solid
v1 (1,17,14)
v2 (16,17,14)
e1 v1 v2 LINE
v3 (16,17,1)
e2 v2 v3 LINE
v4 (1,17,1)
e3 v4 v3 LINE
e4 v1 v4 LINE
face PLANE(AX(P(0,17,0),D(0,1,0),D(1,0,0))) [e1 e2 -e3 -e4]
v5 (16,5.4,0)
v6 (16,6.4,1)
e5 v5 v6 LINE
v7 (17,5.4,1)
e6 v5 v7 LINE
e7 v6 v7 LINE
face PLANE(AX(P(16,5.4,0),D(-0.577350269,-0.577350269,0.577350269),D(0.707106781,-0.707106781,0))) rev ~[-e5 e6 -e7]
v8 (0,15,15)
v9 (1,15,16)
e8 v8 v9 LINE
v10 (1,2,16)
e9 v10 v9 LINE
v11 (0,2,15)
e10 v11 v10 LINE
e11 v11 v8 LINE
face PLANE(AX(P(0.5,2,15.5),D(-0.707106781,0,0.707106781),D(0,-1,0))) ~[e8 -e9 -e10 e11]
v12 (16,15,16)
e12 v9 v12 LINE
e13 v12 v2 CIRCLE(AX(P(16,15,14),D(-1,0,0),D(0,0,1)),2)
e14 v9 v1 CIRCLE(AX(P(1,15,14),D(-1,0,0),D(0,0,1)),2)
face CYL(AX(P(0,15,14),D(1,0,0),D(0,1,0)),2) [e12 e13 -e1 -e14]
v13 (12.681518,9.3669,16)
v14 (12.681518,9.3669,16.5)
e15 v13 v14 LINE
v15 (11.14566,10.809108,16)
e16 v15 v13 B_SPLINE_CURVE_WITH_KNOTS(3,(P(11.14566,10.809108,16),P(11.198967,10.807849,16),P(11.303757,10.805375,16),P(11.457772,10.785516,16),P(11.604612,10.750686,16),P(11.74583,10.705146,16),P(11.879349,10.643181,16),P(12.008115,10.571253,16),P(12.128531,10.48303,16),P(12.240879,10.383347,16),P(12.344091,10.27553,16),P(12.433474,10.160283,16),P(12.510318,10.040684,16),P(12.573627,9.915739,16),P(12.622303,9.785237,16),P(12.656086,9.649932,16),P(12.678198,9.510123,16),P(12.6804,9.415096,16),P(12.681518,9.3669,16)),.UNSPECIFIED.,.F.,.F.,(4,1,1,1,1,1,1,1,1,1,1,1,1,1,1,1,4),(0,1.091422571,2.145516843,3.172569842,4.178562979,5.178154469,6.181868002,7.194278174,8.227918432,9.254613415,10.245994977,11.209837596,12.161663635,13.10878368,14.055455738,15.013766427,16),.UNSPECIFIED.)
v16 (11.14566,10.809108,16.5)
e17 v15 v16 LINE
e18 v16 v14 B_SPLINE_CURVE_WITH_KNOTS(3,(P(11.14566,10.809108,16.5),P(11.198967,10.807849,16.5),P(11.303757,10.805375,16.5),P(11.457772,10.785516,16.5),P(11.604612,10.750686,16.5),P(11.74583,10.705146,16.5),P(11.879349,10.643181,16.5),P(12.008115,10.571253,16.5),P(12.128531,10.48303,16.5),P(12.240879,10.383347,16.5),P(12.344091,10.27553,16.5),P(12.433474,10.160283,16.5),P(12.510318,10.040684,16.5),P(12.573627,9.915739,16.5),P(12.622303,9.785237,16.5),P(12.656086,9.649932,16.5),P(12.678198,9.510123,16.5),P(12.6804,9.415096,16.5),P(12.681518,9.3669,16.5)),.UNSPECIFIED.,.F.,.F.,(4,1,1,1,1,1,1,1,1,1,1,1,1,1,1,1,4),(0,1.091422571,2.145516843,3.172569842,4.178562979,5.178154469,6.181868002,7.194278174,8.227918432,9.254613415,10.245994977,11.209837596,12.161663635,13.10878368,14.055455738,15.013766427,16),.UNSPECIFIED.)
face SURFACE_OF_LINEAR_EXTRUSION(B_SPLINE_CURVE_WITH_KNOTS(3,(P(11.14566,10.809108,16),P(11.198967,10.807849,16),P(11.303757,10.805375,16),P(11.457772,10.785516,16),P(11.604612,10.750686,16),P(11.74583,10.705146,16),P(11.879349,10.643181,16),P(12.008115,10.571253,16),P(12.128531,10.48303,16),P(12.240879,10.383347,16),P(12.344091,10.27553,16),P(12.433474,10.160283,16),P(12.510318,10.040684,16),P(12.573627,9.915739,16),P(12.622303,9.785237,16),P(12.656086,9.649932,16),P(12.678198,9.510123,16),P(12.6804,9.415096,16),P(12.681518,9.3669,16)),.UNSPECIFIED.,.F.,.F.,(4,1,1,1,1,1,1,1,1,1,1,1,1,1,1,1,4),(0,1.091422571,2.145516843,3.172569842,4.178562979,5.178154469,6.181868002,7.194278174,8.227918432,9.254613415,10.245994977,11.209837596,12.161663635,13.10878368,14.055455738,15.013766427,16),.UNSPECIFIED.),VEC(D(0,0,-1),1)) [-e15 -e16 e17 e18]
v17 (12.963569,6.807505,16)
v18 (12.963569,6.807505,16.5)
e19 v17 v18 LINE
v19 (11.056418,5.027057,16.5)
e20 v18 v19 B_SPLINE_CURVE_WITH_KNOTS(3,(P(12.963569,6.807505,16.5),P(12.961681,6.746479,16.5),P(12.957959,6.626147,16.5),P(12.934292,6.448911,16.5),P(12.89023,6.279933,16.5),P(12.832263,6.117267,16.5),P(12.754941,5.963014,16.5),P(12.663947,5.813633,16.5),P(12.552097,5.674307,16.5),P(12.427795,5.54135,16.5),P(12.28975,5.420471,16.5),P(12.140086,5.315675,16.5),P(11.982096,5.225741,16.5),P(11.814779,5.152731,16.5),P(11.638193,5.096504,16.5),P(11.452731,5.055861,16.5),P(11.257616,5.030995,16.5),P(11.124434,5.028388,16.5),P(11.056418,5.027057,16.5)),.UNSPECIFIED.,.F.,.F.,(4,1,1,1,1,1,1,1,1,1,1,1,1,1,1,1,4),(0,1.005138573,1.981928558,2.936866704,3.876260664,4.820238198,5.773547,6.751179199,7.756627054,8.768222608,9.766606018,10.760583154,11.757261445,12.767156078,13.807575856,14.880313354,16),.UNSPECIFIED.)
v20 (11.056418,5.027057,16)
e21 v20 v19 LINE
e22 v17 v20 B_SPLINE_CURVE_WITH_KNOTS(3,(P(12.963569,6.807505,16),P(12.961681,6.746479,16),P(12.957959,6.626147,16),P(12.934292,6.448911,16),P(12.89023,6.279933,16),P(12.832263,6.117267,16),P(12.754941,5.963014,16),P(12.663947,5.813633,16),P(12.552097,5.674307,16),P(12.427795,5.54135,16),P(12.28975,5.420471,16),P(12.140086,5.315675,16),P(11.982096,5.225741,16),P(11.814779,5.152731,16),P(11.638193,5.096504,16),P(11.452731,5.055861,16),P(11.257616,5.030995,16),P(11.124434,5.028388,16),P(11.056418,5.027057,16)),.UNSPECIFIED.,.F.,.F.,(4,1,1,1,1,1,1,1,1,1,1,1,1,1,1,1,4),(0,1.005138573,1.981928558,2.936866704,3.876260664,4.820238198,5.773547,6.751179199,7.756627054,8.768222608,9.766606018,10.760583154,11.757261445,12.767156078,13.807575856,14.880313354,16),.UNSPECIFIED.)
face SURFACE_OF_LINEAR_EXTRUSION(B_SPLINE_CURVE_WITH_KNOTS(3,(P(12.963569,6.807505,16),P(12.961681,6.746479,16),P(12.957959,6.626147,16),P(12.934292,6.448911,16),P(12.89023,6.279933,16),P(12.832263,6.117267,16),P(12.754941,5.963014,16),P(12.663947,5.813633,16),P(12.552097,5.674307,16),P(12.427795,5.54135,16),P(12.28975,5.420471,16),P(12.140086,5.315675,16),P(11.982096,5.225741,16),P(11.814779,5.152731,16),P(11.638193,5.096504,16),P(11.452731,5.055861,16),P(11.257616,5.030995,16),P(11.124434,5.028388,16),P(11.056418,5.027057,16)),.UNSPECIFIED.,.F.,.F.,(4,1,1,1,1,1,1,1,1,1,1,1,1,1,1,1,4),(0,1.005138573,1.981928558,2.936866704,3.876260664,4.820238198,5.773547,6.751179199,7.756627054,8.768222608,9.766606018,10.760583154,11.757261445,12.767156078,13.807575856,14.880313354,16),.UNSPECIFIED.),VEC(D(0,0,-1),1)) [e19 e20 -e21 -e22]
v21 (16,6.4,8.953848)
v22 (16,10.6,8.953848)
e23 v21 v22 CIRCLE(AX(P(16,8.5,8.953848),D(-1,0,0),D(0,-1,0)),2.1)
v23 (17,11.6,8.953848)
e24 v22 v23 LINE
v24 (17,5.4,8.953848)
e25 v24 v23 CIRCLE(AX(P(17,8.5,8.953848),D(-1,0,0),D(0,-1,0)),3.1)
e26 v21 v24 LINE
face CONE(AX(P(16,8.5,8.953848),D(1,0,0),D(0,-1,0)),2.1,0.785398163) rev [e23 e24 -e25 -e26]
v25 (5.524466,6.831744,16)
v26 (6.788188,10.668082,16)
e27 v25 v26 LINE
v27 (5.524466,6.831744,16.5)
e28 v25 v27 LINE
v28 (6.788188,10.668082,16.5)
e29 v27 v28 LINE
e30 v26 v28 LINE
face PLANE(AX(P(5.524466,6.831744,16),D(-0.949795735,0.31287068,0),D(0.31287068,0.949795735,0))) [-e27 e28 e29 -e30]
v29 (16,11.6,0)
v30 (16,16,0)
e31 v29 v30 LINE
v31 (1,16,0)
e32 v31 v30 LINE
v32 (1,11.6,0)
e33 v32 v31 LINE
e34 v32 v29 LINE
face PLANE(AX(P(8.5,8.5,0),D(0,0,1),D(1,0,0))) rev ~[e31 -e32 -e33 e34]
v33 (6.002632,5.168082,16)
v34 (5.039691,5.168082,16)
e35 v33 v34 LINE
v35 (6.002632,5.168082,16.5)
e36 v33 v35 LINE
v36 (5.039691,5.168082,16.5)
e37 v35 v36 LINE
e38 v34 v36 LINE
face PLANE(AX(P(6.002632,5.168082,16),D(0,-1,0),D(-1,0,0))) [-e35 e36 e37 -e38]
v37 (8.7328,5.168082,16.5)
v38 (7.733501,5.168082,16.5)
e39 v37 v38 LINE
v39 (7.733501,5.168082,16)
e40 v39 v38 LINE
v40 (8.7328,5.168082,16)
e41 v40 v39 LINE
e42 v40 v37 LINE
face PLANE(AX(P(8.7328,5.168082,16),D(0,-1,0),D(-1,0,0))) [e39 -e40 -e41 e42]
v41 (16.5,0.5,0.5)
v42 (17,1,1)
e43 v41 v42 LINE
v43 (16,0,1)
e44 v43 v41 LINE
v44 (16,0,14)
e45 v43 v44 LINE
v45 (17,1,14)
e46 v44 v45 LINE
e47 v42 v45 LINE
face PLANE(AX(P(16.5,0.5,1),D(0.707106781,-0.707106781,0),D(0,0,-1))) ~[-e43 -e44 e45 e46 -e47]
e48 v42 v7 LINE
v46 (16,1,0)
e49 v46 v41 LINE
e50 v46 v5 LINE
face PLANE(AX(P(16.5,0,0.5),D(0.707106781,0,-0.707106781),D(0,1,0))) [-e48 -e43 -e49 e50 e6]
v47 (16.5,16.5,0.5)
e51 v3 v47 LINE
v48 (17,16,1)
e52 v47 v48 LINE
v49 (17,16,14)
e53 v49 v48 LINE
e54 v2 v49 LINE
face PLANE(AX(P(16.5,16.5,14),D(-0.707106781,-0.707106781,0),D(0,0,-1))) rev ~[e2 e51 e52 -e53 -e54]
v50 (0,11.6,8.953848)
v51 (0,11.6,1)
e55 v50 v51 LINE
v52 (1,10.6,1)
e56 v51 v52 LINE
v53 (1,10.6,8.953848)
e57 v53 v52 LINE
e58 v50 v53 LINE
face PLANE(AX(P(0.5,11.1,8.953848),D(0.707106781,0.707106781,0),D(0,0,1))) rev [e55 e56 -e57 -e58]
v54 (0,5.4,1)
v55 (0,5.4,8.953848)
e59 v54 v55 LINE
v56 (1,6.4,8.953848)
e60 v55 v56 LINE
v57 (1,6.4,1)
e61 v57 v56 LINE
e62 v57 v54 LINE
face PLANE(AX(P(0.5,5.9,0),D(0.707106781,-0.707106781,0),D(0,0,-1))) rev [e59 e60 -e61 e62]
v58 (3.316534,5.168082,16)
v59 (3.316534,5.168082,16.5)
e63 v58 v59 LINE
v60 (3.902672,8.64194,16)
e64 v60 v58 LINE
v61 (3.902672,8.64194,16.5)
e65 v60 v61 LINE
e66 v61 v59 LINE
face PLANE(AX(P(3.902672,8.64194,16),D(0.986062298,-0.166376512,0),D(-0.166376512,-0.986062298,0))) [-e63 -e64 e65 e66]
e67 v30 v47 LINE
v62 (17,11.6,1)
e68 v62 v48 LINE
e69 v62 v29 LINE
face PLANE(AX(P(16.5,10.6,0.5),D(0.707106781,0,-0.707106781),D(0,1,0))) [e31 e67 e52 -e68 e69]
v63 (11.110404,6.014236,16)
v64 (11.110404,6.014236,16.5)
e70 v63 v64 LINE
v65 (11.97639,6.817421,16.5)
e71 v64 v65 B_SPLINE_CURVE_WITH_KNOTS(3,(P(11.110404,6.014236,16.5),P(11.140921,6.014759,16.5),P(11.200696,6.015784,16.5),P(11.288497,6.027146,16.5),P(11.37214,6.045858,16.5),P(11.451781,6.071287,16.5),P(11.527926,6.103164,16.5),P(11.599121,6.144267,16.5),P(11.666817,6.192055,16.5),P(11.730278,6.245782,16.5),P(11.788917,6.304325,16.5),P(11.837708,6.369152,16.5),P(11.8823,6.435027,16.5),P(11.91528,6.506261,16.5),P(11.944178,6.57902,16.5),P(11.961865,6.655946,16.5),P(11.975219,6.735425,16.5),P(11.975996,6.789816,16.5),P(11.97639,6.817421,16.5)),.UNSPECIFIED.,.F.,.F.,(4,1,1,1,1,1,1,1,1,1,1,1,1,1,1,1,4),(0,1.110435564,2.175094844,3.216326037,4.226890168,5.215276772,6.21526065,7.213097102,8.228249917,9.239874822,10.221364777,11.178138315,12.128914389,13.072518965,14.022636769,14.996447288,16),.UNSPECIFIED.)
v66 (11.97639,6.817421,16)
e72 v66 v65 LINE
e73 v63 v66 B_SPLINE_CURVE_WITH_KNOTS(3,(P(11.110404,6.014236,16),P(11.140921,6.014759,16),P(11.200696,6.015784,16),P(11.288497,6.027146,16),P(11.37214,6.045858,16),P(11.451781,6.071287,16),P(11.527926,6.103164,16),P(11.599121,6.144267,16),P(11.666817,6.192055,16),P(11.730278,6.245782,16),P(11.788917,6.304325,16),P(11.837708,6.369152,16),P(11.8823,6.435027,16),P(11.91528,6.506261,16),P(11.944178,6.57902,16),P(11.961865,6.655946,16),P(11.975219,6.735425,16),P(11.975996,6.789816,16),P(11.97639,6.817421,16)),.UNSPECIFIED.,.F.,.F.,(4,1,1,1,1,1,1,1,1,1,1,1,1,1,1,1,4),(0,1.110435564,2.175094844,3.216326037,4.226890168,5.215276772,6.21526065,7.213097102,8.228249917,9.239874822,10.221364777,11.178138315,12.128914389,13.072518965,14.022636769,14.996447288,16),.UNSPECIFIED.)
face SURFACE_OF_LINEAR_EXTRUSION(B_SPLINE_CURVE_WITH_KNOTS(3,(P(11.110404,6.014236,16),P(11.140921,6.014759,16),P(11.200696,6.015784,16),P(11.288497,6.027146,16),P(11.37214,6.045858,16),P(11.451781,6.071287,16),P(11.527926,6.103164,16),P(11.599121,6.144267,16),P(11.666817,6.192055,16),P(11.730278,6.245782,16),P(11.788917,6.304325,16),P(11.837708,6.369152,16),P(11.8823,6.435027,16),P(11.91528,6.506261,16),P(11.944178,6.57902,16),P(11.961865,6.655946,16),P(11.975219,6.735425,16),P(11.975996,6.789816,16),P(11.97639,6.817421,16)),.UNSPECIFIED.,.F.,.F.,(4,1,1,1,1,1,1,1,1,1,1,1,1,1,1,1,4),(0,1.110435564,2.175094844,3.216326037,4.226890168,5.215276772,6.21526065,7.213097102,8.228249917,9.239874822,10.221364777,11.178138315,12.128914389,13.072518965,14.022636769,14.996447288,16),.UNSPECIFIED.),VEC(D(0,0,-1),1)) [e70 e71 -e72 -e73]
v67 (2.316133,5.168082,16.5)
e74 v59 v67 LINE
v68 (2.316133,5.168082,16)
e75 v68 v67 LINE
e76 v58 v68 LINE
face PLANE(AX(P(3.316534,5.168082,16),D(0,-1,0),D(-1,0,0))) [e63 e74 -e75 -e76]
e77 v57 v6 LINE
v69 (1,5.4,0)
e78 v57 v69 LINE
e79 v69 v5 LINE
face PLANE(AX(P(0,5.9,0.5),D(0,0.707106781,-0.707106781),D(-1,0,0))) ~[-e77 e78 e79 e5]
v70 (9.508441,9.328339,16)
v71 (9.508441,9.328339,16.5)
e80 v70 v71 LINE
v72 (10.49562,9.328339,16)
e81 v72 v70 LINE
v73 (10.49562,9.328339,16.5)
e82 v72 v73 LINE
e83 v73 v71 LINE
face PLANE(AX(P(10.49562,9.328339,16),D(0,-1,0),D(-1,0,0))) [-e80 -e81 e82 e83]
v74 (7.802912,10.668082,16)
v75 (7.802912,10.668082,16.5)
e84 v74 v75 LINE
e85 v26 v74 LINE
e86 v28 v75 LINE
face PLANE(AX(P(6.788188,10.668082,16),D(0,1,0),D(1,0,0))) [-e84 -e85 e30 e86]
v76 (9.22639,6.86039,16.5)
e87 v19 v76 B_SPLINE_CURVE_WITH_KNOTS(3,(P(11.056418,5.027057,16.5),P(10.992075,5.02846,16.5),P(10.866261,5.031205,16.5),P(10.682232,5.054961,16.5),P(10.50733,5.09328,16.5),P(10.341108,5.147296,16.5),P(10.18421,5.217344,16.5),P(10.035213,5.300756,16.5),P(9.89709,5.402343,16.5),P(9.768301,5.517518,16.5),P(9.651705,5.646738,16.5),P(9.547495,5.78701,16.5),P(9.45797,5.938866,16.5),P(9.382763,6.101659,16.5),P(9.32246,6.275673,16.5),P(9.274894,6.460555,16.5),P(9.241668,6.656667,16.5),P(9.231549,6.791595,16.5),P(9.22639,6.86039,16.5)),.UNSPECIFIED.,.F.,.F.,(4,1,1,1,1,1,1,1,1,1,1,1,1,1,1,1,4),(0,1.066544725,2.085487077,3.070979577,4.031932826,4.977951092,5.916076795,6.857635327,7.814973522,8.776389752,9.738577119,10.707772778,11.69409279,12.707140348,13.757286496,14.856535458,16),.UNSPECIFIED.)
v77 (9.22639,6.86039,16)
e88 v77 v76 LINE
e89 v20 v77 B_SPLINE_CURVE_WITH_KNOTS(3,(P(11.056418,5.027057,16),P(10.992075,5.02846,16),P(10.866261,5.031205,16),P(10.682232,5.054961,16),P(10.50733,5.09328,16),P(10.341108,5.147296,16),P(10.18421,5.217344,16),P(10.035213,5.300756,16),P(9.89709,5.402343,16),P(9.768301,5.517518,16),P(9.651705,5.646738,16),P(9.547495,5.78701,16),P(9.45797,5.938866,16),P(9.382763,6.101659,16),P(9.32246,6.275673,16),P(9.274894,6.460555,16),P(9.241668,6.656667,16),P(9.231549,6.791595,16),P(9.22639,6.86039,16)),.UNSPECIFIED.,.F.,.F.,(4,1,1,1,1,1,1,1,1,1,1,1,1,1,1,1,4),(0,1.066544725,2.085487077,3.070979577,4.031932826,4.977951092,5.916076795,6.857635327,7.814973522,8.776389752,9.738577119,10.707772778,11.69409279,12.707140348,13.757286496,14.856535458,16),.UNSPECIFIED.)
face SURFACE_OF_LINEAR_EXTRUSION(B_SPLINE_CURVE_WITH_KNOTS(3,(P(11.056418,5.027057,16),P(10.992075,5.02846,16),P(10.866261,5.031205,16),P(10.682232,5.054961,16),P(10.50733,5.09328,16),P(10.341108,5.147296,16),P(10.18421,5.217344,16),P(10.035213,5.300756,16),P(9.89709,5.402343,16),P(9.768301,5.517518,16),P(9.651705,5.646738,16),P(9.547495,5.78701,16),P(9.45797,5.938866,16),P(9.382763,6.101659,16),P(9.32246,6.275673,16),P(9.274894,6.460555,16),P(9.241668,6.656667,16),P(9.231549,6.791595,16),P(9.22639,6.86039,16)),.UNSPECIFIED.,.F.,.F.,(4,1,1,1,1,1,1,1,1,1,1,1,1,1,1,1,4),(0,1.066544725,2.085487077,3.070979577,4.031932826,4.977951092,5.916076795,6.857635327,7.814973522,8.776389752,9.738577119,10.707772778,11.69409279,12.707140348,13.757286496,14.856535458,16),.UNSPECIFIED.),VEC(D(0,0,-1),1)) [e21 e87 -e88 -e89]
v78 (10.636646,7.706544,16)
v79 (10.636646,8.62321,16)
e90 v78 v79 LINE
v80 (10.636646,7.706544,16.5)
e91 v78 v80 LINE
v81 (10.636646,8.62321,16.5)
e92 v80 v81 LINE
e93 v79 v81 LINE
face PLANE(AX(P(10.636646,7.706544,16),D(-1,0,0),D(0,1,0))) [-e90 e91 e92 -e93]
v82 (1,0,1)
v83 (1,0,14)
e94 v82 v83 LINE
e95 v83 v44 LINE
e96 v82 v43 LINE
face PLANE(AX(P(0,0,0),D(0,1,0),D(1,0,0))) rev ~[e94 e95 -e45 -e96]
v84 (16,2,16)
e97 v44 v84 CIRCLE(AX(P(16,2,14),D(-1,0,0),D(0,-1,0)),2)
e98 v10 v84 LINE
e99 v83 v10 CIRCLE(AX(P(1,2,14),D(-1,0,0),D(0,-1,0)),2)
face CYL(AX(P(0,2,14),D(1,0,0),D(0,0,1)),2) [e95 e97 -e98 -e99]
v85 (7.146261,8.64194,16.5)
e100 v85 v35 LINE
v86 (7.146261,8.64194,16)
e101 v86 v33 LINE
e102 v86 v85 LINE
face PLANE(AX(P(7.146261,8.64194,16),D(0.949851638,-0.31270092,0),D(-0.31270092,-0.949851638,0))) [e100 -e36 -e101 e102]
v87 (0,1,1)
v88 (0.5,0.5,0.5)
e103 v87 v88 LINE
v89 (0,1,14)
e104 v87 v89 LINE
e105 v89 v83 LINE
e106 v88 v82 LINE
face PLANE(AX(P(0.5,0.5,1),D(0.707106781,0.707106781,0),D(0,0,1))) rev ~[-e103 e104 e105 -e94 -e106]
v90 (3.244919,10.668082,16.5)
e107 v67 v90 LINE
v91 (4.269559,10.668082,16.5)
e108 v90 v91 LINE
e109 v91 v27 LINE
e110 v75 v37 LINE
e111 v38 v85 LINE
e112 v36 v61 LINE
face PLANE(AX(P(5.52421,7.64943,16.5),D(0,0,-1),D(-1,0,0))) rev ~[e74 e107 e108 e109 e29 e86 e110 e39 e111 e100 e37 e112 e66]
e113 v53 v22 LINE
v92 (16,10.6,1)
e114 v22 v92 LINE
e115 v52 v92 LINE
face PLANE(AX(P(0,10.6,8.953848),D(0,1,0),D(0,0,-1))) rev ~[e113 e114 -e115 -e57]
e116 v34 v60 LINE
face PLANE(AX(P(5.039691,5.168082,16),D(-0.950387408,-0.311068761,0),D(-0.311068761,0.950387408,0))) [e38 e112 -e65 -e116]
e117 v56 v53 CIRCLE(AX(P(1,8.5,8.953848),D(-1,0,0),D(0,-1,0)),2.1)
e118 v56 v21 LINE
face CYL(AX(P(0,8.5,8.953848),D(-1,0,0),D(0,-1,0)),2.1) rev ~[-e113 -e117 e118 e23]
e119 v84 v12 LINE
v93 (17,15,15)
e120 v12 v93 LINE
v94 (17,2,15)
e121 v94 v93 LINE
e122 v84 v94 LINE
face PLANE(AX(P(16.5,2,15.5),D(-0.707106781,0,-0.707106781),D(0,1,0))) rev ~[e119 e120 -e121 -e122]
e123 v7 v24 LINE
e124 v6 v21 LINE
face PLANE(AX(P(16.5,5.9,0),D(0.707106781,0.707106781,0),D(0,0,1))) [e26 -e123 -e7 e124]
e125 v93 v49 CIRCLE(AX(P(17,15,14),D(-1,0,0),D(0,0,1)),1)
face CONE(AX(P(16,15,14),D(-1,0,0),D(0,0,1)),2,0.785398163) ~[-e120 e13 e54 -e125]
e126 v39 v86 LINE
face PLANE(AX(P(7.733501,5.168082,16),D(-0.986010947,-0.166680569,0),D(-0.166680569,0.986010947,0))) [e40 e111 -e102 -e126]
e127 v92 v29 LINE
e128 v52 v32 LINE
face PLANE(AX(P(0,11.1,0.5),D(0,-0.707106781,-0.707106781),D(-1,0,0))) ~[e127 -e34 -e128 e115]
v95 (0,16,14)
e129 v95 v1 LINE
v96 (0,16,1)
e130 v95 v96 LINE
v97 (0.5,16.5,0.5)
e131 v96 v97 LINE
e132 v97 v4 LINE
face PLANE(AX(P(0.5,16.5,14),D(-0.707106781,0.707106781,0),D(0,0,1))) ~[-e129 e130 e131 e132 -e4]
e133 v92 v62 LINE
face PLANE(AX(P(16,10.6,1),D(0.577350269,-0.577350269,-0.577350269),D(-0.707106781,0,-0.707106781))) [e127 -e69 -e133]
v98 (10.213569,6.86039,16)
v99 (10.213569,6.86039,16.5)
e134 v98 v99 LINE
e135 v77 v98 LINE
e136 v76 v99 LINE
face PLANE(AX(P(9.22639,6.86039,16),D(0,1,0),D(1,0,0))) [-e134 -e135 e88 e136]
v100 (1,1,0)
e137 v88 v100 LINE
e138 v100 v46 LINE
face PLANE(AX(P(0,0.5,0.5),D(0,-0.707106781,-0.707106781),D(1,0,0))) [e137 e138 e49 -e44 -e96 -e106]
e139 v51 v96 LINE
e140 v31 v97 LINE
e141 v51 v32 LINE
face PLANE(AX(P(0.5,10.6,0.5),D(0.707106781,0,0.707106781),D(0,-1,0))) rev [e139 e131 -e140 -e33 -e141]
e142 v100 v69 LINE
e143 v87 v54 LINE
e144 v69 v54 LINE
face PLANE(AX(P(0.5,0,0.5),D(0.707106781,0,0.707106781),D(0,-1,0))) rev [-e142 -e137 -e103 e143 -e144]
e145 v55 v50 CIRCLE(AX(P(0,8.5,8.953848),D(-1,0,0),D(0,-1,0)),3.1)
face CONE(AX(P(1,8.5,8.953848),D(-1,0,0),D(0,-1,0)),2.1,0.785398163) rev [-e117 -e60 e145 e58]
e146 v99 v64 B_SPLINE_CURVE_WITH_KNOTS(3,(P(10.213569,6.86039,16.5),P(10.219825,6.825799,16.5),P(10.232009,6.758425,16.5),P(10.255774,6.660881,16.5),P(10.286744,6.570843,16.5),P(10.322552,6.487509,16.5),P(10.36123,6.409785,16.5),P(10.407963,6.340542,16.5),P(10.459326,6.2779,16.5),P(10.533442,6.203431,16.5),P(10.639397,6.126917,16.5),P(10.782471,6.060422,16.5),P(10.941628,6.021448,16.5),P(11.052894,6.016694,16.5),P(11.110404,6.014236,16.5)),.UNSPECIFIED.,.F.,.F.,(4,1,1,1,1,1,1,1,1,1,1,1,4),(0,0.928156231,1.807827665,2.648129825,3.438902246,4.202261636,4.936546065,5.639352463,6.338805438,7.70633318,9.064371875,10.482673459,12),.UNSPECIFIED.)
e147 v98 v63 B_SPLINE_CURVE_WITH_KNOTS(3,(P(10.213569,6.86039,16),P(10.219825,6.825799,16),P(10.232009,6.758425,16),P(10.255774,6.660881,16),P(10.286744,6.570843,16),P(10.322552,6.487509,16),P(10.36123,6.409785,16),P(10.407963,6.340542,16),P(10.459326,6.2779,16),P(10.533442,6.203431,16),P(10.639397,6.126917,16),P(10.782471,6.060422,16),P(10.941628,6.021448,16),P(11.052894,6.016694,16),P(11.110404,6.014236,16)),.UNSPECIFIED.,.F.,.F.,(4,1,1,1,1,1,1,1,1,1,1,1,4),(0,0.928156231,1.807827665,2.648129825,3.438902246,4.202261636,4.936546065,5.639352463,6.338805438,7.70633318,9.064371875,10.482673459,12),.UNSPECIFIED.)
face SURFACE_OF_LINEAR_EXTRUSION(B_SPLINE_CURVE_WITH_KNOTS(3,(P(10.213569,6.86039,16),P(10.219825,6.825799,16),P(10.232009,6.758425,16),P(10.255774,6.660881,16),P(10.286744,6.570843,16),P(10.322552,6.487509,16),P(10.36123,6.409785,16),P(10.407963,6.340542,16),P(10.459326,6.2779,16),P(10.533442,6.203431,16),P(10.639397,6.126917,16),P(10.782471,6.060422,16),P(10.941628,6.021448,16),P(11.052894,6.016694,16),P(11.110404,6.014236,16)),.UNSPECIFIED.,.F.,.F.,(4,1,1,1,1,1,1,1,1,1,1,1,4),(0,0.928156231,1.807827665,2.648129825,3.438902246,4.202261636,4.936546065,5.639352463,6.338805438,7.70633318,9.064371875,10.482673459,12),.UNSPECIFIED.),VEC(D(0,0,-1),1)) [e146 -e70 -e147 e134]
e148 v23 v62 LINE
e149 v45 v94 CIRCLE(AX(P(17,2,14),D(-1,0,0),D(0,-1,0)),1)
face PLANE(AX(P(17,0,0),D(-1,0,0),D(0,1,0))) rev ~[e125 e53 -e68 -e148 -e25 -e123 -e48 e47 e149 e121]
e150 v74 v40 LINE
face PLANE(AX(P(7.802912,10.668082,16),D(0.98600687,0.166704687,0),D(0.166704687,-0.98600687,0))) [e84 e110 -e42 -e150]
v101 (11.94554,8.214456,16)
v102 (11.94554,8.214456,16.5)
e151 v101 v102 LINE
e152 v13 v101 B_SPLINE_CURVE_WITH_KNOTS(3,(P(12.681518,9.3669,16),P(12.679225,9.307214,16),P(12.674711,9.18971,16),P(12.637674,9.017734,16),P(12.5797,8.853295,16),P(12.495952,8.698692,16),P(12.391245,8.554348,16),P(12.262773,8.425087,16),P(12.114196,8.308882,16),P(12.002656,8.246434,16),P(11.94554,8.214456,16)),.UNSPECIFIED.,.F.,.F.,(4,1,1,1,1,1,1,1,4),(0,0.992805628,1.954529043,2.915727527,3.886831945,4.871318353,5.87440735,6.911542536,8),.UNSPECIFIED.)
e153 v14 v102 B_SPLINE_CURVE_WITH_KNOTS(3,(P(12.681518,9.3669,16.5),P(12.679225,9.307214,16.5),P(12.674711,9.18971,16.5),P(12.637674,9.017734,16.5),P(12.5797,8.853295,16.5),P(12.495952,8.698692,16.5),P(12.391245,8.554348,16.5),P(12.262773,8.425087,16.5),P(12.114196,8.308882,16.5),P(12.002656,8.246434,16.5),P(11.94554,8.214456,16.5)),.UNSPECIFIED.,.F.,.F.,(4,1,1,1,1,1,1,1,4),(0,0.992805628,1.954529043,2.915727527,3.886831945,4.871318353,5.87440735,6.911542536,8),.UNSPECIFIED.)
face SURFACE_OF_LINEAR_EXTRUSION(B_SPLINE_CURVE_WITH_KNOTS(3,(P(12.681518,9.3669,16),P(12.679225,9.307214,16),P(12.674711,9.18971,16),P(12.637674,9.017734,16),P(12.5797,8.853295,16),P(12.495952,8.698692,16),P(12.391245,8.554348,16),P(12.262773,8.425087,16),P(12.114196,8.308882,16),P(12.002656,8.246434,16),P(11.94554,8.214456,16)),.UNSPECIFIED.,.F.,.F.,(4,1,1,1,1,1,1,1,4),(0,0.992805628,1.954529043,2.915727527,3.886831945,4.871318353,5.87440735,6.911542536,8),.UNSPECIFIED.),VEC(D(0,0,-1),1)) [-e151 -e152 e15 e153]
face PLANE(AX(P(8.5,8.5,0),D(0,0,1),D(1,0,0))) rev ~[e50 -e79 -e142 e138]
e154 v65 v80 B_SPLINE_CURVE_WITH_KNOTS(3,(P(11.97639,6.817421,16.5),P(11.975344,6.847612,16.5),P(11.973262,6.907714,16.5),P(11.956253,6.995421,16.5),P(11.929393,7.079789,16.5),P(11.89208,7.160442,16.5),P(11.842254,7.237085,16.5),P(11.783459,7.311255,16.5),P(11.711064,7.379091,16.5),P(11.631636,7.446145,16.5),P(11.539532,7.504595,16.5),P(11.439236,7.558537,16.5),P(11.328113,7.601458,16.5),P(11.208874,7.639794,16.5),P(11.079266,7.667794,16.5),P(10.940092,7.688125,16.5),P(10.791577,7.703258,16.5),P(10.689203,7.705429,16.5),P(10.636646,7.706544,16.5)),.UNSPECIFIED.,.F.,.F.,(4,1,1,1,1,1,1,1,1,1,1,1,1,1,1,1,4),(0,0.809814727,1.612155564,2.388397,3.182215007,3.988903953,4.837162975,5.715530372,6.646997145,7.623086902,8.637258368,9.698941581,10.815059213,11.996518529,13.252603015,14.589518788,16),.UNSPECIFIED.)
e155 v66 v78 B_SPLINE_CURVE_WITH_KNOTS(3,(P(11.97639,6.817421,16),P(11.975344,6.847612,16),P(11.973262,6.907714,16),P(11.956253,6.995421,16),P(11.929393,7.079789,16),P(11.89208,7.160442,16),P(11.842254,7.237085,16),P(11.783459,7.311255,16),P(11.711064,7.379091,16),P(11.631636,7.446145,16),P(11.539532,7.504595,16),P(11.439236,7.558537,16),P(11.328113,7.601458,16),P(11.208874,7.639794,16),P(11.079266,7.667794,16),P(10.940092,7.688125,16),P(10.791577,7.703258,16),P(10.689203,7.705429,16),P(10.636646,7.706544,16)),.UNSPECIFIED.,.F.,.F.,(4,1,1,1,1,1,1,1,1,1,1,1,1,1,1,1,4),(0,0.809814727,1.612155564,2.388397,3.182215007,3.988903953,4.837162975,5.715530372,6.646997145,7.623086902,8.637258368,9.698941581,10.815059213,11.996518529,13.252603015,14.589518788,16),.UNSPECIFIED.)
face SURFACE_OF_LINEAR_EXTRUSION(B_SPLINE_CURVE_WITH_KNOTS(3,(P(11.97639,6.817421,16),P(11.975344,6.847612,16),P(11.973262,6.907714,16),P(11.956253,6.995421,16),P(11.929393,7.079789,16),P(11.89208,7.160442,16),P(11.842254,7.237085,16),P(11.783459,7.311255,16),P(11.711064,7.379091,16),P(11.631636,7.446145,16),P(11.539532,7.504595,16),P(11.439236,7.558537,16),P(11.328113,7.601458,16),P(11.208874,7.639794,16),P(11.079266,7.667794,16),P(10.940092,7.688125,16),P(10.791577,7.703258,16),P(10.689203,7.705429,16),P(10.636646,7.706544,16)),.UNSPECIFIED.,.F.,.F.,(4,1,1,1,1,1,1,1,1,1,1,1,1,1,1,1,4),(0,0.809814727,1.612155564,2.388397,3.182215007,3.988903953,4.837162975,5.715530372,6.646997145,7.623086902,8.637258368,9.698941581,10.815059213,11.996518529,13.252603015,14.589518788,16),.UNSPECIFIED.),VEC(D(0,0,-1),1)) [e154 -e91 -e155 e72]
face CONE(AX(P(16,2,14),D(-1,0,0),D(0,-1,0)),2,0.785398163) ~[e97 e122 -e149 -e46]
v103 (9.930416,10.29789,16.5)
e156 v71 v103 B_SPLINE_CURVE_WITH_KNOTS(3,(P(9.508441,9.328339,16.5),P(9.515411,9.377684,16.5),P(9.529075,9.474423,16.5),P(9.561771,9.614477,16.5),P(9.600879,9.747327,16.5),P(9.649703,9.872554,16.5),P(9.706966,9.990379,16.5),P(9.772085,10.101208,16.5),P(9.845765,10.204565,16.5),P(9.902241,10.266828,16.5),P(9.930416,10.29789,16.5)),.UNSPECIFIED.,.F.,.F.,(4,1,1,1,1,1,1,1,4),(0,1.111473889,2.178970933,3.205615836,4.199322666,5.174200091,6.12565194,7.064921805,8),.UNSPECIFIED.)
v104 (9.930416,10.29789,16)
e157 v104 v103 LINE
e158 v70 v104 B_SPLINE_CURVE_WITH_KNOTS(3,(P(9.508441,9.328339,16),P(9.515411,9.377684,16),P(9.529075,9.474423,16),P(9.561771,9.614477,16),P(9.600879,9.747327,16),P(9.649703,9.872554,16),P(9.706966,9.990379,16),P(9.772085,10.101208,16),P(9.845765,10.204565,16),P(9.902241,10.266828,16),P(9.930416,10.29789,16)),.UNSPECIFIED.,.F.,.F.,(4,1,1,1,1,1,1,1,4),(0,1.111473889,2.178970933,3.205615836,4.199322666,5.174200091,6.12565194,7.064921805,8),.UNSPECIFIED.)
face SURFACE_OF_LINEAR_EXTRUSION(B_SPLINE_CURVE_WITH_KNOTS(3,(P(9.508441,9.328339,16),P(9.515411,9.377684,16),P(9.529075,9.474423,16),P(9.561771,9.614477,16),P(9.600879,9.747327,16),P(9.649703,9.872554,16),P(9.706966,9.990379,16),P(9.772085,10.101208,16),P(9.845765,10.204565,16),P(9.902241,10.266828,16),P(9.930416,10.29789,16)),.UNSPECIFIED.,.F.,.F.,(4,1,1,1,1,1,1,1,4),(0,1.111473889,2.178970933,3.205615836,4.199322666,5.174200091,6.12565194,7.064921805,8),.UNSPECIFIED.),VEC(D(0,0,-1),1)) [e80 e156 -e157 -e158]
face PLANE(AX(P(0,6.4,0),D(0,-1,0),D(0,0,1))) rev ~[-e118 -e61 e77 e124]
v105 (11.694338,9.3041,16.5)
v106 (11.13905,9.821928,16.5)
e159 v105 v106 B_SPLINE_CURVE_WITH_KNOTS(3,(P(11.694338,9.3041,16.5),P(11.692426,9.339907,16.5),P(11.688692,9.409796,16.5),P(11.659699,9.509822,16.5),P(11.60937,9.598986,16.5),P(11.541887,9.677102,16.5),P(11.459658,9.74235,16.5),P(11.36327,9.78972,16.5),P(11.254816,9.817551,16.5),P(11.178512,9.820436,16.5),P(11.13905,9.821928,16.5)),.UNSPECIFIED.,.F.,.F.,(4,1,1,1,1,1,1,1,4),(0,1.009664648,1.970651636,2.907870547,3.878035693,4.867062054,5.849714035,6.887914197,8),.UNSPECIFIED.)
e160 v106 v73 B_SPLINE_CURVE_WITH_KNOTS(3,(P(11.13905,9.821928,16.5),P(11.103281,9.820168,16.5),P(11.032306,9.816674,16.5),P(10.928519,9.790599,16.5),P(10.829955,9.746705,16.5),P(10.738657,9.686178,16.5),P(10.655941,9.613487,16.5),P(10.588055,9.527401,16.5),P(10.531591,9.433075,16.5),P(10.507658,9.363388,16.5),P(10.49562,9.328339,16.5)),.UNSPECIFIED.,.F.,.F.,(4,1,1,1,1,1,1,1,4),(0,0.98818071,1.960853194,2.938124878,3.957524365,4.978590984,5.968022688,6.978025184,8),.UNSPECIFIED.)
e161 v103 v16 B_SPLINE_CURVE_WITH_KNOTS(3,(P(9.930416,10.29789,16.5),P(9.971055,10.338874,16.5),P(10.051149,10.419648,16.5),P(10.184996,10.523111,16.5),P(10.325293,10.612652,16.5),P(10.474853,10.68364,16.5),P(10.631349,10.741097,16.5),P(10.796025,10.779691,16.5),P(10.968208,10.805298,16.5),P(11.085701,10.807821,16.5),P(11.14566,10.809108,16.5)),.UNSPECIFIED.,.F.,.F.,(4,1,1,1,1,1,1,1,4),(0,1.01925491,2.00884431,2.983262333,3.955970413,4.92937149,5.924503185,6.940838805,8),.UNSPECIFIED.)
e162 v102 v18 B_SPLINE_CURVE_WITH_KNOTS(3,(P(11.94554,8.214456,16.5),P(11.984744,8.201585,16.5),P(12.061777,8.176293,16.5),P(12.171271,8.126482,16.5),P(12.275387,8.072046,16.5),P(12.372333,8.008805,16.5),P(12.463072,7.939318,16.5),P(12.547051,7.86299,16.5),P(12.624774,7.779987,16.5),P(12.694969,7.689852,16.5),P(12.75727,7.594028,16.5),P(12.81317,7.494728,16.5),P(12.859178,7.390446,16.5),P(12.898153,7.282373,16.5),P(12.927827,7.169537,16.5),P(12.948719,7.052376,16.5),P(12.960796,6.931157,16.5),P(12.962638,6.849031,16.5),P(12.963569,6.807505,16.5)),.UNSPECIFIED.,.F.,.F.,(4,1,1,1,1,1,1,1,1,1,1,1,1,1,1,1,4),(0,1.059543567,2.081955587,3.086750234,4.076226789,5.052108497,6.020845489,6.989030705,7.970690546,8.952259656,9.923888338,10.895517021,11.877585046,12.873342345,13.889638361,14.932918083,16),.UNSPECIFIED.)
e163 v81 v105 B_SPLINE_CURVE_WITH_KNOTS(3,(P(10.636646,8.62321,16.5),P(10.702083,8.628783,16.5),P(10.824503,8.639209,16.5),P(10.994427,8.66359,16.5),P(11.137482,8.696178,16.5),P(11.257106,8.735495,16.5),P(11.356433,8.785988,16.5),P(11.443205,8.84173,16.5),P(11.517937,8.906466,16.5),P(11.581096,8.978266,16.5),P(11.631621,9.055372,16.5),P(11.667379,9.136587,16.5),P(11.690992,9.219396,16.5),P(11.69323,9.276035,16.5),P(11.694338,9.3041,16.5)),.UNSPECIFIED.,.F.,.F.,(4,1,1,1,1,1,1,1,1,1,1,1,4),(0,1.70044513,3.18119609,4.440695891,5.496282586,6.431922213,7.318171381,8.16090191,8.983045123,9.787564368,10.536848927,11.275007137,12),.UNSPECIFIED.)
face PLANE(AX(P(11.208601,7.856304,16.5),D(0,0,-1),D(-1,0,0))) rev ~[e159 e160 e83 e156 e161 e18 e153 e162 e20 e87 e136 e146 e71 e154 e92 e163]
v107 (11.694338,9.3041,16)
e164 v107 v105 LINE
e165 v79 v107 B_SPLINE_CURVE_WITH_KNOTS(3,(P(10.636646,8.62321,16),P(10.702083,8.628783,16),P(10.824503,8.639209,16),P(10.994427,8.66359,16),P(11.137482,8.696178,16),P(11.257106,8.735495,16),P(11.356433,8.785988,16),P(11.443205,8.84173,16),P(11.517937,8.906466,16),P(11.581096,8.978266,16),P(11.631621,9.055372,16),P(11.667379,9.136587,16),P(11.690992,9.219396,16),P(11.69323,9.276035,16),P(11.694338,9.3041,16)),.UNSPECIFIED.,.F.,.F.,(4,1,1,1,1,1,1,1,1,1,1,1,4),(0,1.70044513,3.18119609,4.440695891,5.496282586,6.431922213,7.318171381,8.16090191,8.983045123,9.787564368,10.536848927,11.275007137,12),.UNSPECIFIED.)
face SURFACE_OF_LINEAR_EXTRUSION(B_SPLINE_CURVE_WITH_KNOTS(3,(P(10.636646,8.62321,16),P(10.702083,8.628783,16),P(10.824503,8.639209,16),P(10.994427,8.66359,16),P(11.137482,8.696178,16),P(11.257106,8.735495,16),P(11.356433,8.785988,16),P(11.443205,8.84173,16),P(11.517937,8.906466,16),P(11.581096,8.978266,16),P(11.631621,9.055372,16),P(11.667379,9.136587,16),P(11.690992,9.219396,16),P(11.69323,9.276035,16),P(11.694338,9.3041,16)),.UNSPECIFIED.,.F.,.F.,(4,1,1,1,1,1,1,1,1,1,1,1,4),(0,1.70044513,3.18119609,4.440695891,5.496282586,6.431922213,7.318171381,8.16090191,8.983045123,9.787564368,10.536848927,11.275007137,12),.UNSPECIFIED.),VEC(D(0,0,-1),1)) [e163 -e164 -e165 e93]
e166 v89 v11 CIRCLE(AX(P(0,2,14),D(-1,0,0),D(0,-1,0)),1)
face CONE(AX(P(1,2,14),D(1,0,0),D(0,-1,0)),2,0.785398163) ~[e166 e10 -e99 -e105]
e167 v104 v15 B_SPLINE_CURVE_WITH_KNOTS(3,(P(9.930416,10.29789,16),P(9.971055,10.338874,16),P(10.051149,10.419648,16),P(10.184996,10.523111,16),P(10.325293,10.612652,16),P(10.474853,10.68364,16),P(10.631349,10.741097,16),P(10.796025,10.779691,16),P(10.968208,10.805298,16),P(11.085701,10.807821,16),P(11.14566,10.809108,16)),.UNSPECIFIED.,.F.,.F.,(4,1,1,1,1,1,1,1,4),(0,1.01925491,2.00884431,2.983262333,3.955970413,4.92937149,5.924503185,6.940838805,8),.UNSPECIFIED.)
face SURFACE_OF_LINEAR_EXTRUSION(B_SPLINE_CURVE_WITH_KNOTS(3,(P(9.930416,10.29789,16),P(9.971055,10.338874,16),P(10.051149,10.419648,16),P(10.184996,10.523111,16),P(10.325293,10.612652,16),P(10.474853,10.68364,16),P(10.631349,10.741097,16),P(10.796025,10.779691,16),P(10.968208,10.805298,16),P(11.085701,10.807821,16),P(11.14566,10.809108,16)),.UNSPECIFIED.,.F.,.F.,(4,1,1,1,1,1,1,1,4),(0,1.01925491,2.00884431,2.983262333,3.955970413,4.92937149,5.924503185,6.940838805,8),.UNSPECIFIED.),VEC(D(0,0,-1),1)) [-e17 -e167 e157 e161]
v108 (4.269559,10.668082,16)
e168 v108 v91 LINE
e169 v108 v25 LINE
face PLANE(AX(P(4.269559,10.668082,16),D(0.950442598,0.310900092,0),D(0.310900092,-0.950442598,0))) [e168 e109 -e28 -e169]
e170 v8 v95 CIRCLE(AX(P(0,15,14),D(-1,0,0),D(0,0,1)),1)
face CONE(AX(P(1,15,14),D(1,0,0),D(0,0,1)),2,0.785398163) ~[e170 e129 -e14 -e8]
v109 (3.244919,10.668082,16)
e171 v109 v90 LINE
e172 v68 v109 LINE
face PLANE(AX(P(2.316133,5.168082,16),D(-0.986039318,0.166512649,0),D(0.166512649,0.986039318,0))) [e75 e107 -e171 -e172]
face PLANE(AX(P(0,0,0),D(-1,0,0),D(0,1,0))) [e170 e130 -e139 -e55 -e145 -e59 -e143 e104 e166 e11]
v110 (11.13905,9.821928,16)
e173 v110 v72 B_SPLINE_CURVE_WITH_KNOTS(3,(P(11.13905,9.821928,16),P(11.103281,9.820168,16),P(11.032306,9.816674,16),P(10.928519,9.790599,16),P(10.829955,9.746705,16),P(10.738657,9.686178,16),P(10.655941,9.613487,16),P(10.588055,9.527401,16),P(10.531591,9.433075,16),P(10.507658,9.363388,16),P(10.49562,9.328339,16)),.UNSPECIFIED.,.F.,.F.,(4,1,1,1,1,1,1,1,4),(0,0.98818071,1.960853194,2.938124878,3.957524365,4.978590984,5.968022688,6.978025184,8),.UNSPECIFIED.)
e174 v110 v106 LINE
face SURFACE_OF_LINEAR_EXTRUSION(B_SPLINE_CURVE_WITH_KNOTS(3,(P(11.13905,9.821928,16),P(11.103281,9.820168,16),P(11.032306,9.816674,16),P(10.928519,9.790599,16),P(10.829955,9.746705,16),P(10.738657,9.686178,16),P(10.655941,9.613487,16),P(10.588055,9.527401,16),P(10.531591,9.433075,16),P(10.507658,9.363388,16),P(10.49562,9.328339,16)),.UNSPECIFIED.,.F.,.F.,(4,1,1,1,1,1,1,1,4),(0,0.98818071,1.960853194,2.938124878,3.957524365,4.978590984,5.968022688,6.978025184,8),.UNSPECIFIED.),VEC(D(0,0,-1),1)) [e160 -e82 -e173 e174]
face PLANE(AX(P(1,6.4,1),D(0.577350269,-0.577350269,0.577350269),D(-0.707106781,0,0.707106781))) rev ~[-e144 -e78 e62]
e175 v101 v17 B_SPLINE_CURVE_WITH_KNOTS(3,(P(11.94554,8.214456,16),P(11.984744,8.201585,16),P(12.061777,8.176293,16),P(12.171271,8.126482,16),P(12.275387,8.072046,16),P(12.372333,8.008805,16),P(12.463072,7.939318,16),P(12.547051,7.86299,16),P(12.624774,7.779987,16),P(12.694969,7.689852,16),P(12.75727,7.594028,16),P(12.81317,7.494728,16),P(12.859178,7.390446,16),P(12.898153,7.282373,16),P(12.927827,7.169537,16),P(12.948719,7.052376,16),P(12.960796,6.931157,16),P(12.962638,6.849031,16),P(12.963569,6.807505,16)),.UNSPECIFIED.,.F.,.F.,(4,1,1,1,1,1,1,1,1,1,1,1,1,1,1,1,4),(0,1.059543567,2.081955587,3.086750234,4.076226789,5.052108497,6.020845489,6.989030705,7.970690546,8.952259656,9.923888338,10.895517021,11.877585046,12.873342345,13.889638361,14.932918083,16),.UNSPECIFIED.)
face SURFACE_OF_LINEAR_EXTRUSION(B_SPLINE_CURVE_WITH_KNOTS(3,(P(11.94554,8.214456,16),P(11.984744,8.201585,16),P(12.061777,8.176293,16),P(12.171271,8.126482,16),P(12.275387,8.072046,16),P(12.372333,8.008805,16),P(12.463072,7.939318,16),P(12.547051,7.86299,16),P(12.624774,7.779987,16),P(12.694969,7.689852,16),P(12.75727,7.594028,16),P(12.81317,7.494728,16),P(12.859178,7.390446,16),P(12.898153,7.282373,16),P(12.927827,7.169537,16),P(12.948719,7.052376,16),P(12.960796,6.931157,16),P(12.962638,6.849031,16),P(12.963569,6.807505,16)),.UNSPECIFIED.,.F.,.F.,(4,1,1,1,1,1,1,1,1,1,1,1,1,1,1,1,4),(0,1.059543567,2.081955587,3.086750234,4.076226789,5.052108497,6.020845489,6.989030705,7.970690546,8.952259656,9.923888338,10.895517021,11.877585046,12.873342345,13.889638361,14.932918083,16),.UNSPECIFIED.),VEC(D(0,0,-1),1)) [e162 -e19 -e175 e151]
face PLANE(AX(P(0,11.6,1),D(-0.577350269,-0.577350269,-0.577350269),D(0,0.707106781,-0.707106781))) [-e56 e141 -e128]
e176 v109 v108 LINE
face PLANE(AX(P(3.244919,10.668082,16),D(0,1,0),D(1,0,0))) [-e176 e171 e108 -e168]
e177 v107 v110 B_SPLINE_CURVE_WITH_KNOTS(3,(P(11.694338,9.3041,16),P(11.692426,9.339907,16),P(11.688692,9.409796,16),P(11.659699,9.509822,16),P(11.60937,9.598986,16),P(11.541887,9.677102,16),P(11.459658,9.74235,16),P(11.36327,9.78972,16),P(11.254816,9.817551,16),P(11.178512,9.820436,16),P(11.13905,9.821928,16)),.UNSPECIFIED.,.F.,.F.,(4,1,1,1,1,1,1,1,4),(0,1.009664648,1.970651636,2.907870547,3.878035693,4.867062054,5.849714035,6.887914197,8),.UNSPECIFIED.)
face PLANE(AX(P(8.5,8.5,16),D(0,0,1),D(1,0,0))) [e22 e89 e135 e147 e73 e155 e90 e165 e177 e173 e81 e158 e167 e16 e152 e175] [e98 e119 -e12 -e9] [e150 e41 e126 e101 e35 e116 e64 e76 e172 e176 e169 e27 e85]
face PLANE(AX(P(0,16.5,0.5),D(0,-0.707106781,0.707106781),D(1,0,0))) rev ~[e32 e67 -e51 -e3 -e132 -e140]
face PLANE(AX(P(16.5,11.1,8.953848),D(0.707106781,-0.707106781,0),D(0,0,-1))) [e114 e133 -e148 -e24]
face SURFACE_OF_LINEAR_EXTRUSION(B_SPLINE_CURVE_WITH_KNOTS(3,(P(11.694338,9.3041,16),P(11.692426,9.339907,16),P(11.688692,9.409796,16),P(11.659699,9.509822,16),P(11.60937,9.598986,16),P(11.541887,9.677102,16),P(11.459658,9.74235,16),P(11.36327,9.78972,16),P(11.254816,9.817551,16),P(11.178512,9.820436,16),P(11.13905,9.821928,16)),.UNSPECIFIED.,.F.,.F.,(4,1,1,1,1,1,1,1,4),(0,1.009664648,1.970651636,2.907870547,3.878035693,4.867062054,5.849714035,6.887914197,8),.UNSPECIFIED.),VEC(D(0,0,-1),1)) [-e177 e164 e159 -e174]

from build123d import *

# Parameters (mm, degrees)
SKETCH1_W           = 17
SKETCH1_H           = 17
BOSS_EXTRUDE1_DEPTH = 16
CUT_EXTRUDE1_DEPTH  = 29.879058156
CHAMFER1_SIZE       = 1
FILLET1_R           = 2
BOSS_EXTRUDE2_DEPTH = 0.5
CHAMFER3_SIZE       = 1


with BuildPart() as part:
    # Sketch1 → Boss-Extrude1 (new body)
    with BuildSketch(Plane.XY):
        with Locations((8.5, 8.5)):
            Rectangle(SKETCH1_W, SKETCH1_H)
    extrude(amount=BOSS_EXTRUDE1_DEPTH)

    # Sketch2 → Cut-Extrude1 (cut, through all)
    with BuildSketch(Plane.ZY):
        with BuildLine():
            Line((8.953848021, 10.6), (0, 10.6))
            Line((0, 10.6), (0, 6.4))
            Line((0, 6.4), (8.953848021, 6.4))
            ThreePointArc((8.953848021, 6.4), (11.053848021, 8.5), (8.953848021, 10.6))
        make_face()
    extrude(amount=-CUT_EXTRUDE1_DEPTH, mode=Mode.SUBTRACT)

    # Chamfer1
    chamfer1_edges = [part.edges().sort_by_distance(p)[0] for p in [
        (0, 3.2, 0),
        (17, 13.8, 0),
        (17, 8.5, 11.053848021),
        (17, 6.4, 4.47692401),
        (8.5, 6.4, 0),
        (17, 10.6, 4.47692401),
        (8.5, 10.6, 0),
        (0, 8.5, 11.053848021),
        (0, 10.6, 4.47692401),
        (0, 6.4, 4.47692401),
        (8.5, 17, 0),
        (17, 3.2, 0),
        (8.5, 0, 0),
        (0, 13.8, 0),
    ]]
    chamfer(chamfer1_edges, length=CHAMFER1_SIZE)

    # Fillet1
    fillet1_edges = [part.edges().sort_by_distance(p)[0] for p in [
        (8.5, 17, 16),
        (8.5, 0, 16),
    ]]
    fillet(fillet1_edges, radius=FILLET1_R)

    # Sketch3 → Boss-Extrude2 (add)
    with BuildSketch(Plane.XY.offset(16)):
        Polygon((3.244919175, 10.668082206), (4.269558598, 10.668082206), (5.524466451, 6.831744065), (6.788188406, 10.668082206), (7.802911963, 10.668082206), (8.732799784, 5.168082206), (7.733500906, 5.168082206), (7.146261322, 8.641940379), (6.002631515, 5.168082206), (5.039690809, 5.168082206), (3.902671579, 8.641940379), (3.316533758, 5.168082206), (2.316133117, 5.168082206), align=None)
        with BuildLine():
            Line((10.495620297, 9.328338616), (9.508440809, 9.328338616))
            add(Edge.make_bspline(
                [(9.508440809, 9.328338616), (9.515410672, 9.377684197), (9.529074626, 9.47442294), (9.56177064, 9.61447654), (9.600878602, 9.747326965), (9.649702894, 9.872553504), (9.706965845, 9.990379227), (9.772085156, 10.101208455), (9.84576479, 10.204565488), (9.90224101, 10.266828175), (9.93041597, 10.297889898)],
                knots=[0, 0, 0, 0, 1.111473889, 2.178970933, 3.205615836, 4.199322666, 5.174200091, 6.12565194, 7.064921805, 8, 8, 8, 8], degree=3))
            add(Edge.make_bspline(
                [(9.93041597, 10.297889898), (9.971054616, 10.338873592), (10.051149118, 10.419648144), (10.184996423, 10.523111423), (10.325293118, 10.612651854), (10.474852914, 10.683640156), (10.631348547, 10.741096963), (10.796024526, 10.779690829), (10.968207924, 10.805298201), (11.085701432, 10.807820616), (11.145660361, 10.809107847)],
                knots=[0, 0, 0, 0, 1.01925491, 2.00884431, 2.983262333, 3.955970413, 4.92937149, 5.924503185, 6.940838805, 8, 8, 8, 8], degree=3))
            add(Edge.make_bspline(
                [(11.145660361, 10.809107847), (11.198966933, 10.807849383), (11.303756913, 10.805375497), (11.457771816, 10.785516482), (11.604612137, 10.750685982), (11.745830021, 10.705145883), (11.879348613, 10.643180969), (12.008114798, 10.571252892), (12.128530844, 10.483030116), (12.240878502, 10.383347258), (12.344091254, 10.275530489), (12.433473949, 10.160283229), (12.510317856, 10.040683999), (12.573627071, 9.915739156), (12.622303254, 9.785237276), (12.656085968, 9.649932253), (12.678197575, 9.510122647), (12.680400469, 9.415095941), (12.681517733, 9.366900315)],
                knots=[0, 0, 0, 0, 1.091422571, 2.145516843, 3.172569842, 4.178562979, 5.178154469, 6.181868002, 7.194278174, 8.227918432, 9.254613415, 10.245994977, 11.209837596, 12.161663635, 13.10878368, 14.055455738, 15.013766427, 16, 16, 16, 16], degree=3))
            add(Edge.make_bspline(
                [(12.681517733, 9.366900315), (12.679225042, 9.307214046), (12.674711438, 9.189710131), (12.637674052, 9.017734423), (12.579700472, 8.853294955), (12.495951997, 8.698692484), (12.391245073, 8.55434775), (12.262773184, 8.425086631), (12.114195543, 8.308882488), (12.002656329, 8.246434368), (11.945540168, 8.214456405)],
                knots=[0, 0, 0, 0, 0.992805628, 1.954529043, 2.915727527, 3.886831945, 4.871318353, 5.87440735, 6.911542536, 8, 8, 8, 8], degree=3))
            add(Edge.make_bspline(
                [(11.945540168, 8.214456405), (11.984743825, 8.201585019), (12.061777251, 8.176293323), (12.171271003, 8.126481615), (12.275387051, 8.072045674), (12.372332552, 8.00880546), (12.463071747, 7.939318128), (12.547051478, 7.862989674), (12.624773506, 7.77998653), (12.69496905, 7.689852211), (12.757270338, 7.594028239), (12.813169966, 7.494728091), (12.859178476, 7.390445863), (12.898153411, 7.282372527), (12.927826708, 7.169536779), (12.948719361, 7.052375846), (12.960795827, 6.931156981), (12.962637694, 6.849031274), (12.963569015, 6.807505283)],
                knots=[0, 0, 0, 0, 1.059543567, 2.081955587, 3.086750234, 4.076226789, 5.052108497, 6.020845489, 6.989030705, 7.970690546, 8.952259656, 9.923888338, 10.895517021, 11.877585046, 12.873342345, 13.889638361, 14.932918083, 16, 16, 16, 16], degree=3))
            add(Edge.make_bspline(
                [(12.963569015, 6.807505283), (12.961681103, 6.746478937), (12.957958525, 6.626147412), (12.93429212, 6.448911389), (12.890229538, 6.279932588), (12.83226277, 6.117266652), (12.754941393, 5.96301354), (12.663947131, 5.813633354), (12.5520969, 5.674306556), (12.427794574, 5.541349707), (12.289749595, 5.420471294), (12.140086379, 5.315675149), (11.982095893, 5.225741411), (11.814778577, 5.15273064), (11.638192558, 5.096503997), (11.452731433, 5.055860787), (11.257615945, 5.030994598), (11.124434358, 5.02838785), (11.056417572, 5.027056565)],
                knots=[0, 0, 0, 0, 1.005138573, 1.981928558, 2.936866704, 3.876260664, 4.820238198, 5.773547, 6.751179199, 7.756627054, 8.768222608, 9.766606018, 10.760583154, 11.757261445, 12.767156078, 13.807575856, 14.880313354, 16, 16, 16, 16], degree=3))
            add(Edge.make_bspline(
                [(11.056417572, 5.027056565), (10.99207479, 5.02846018), (10.866260993, 5.031204763), (10.682231983, 5.054960522), (10.507329828, 5.093280489), (10.341108177, 5.147295661), (10.184210125, 5.217344107), (10.035212862, 5.300756089), (9.897089595, 5.402342616), (9.768301357, 5.517517881), (9.651705062, 5.646737988), (9.547495432, 5.787009618), (9.457970308, 5.938866167), (9.382762546, 6.10165884), (9.3224601, 6.275673225), (9.274893708, 6.460555454), (9.241667805, 6.656666729), (9.231548786, 6.791595459), (9.226389527, 6.860389898)],
                knots=[0, 0, 0, 0, 1.066544725, 2.085487077, 3.070979577, 4.031932826, 4.977951092, 5.916076795, 6.857635327, 7.814973522, 8.776389752, 9.738577119, 10.707772778, 11.69409279, 12.707140348, 13.757286496, 14.856535458, 16, 16, 16, 16], degree=3))
            Line((9.226389527, 6.860389898), (10.213569015, 6.860389898))
            add(Edge.make_bspline(
                [(10.213569015, 6.860389898), (10.219824668, 6.825799151), (10.232009194, 6.7584246), (10.255774364, 6.660881227), (10.286743696, 6.570842669), (10.322551949, 6.487508666), (10.361230253, 6.409785071), (10.407962894, 6.340542409), (10.459325549, 6.277900458), (10.533442235, 6.203431016), (10.639397142, 6.126916773), (10.782471369, 6.060422256), (10.941627897, 6.0214483), (11.052894184, 6.016693597), (11.110403951, 6.014236052)],
                knots=[0, 0, 0, 0, 0.928156231, 1.807827665, 2.648129825, 3.438902246, 4.202261636, 4.936546065, 5.639352463, 6.338805438, 7.70633318, 9.064371875, 10.482673459, 12, 12, 12, 12], degree=3))
            add(Edge.make_bspline(
                [(11.110403951, 6.014236052), (11.140920666, 6.014759363), (11.200696083, 6.015784412), (11.288497271, 6.027145709), (11.372140265, 6.045857774), (11.451780855, 6.071286777), (11.527926037, 6.103163621), (11.599120982, 6.144266905), (11.66681682, 6.192055339), (11.730277635, 6.245782226), (11.788916737, 6.304325301), (11.837707918, 6.369151809), (11.882299527, 6.435027129), (11.915279803, 6.506261054), (11.944177629, 6.57902044), (11.961864575, 6.655946223), (11.975219489, 6.735424708), (11.975995623, 6.789816294), (11.976389527, 6.817421148)],
                knots=[0, 0, 0, 0, 1.110435564, 2.175094844, 3.216326037, 4.226890168, 5.215276772, 6.21526065, 7.213097102, 8.228249917, 9.239874822, 10.221364777, 11.178138315, 12.128914389, 13.072518965, 14.022636769, 14.996447288, 16, 16, 16, 16], degree=3))
            add(Edge.make_bspline(
                [(11.976389527, 6.817421148), (11.975343786, 6.84761176), (11.973261954, 6.907714349), (11.95625317, 6.99542144), (11.929392706, 7.079788593), (11.892080239, 7.16044219), (11.842253599, 7.237084958), (11.783458719, 7.311254584), (11.711063536, 7.37909067), (11.631636324, 7.446144585), (11.539531961, 7.504595376), (11.43923606, 7.558536867), (11.328112687, 7.601457641), (11.208874464, 7.639793843), (11.079265887, 7.667794008), (10.94009178, 7.688124858), (10.791576649, 7.703258025), (10.689203239, 7.705429126), (10.636645938, 7.706543745)],
                knots=[0, 0, 0, 0, 0.809814727, 1.612155564, 2.388397, 3.182215007, 3.988903953, 4.837162975, 5.715530372, 6.646997145, 7.623086902, 8.637258368, 9.698941581, 10.815059213, 11.996518529, 13.252603015, 14.589518788, 16, 16, 16, 16], degree=3))
            Line((10.636645938, 7.706543745), (10.636645938, 8.623210411))
            add(Edge.make_bspline(
                [(10.636645938, 8.623210411), (10.702082904, 8.628783233), (10.824502508, 8.639208878), (10.994427483, 8.663589612), (11.137482407, 8.696178476), (11.257105609, 8.735495178), (11.356433051, 8.785988065), (11.443204956, 8.841729984), (11.517937025, 8.906466075), (11.581095648, 8.978265919), (11.631620581, 9.055372218), (11.667379186, 9.136586513), (11.6909923, 9.219395932), (11.693229641, 9.276035079), (11.694338245, 9.304099834)],
                knots=[0, 0, 0, 0, 1.70044513, 3.18119609, 4.440695891, 5.496282586, 6.431922213, 7.318171381, 8.16090191, 8.983045123, 9.787564368, 10.536848927, 11.275007137, 12, 12, 12, 12], degree=3))
            add(Edge.make_bspline(
                [(11.694338245, 9.304099834), (11.692425585, 9.339907415), (11.688692477, 9.409796232), (11.659699137, 9.509821852), (11.609369984, 9.598986402), (11.541887427, 9.677102254), (11.459657586, 9.742350468), (11.363269796, 9.789719559), (11.254815679, 9.817551015), (11.178512364, 9.820436199), (11.139049784, 9.82192836)],
                knots=[0, 0, 0, 0, 1.009664648, 1.970651636, 2.907870547, 3.878035693, 4.867062054, 5.849714035, 6.887914197, 8, 8, 8, 8], degree=3))
            add(Edge.make_bspline(
                [(11.139049784, 9.82192836), (11.103281391, 9.820167767), (11.032305946, 9.816674212), (10.9285186, 9.79059924), (10.8299552, 9.746705269), (10.738656716, 9.686178071), (10.655941059, 9.613487472), (10.588055369, 9.527400545), (10.531591271, 9.433074908), (10.507657627, 9.363387579), (10.495620297, 9.328338616)],
                knots=[0, 0, 0, 0, 0.98818071, 1.960853194, 2.938124878, 3.957524365, 4.978590984, 5.968022688, 6.978025184, 8, 8, 8, 8], degree=3))
        make_face()
    extrude(amount=BOSS_EXTRUDE2_DEPTH)

    # Chamfer3
    chamfer3_edges = [part.edges().sort_by_distance(p)[0] for p in [
        (0, 8.5, 16),
        (17, 8.5, 16),
        (17, 0, 7.5),
        (17, 17, 7.5),
        (17, 16.414213562, 15.414213562),
        (17, 0.585786438, 15.414213562),
        (0, 0, 7.5),
        (0, 17, 7.5),
        (0, 16.414213562, 15.414213562),
        (0, 0.585786438, 15.414213562),
    ]]
    chamfer(chamfer3_edges, length=CHAMFER3_SIZE)


solid = part.part
